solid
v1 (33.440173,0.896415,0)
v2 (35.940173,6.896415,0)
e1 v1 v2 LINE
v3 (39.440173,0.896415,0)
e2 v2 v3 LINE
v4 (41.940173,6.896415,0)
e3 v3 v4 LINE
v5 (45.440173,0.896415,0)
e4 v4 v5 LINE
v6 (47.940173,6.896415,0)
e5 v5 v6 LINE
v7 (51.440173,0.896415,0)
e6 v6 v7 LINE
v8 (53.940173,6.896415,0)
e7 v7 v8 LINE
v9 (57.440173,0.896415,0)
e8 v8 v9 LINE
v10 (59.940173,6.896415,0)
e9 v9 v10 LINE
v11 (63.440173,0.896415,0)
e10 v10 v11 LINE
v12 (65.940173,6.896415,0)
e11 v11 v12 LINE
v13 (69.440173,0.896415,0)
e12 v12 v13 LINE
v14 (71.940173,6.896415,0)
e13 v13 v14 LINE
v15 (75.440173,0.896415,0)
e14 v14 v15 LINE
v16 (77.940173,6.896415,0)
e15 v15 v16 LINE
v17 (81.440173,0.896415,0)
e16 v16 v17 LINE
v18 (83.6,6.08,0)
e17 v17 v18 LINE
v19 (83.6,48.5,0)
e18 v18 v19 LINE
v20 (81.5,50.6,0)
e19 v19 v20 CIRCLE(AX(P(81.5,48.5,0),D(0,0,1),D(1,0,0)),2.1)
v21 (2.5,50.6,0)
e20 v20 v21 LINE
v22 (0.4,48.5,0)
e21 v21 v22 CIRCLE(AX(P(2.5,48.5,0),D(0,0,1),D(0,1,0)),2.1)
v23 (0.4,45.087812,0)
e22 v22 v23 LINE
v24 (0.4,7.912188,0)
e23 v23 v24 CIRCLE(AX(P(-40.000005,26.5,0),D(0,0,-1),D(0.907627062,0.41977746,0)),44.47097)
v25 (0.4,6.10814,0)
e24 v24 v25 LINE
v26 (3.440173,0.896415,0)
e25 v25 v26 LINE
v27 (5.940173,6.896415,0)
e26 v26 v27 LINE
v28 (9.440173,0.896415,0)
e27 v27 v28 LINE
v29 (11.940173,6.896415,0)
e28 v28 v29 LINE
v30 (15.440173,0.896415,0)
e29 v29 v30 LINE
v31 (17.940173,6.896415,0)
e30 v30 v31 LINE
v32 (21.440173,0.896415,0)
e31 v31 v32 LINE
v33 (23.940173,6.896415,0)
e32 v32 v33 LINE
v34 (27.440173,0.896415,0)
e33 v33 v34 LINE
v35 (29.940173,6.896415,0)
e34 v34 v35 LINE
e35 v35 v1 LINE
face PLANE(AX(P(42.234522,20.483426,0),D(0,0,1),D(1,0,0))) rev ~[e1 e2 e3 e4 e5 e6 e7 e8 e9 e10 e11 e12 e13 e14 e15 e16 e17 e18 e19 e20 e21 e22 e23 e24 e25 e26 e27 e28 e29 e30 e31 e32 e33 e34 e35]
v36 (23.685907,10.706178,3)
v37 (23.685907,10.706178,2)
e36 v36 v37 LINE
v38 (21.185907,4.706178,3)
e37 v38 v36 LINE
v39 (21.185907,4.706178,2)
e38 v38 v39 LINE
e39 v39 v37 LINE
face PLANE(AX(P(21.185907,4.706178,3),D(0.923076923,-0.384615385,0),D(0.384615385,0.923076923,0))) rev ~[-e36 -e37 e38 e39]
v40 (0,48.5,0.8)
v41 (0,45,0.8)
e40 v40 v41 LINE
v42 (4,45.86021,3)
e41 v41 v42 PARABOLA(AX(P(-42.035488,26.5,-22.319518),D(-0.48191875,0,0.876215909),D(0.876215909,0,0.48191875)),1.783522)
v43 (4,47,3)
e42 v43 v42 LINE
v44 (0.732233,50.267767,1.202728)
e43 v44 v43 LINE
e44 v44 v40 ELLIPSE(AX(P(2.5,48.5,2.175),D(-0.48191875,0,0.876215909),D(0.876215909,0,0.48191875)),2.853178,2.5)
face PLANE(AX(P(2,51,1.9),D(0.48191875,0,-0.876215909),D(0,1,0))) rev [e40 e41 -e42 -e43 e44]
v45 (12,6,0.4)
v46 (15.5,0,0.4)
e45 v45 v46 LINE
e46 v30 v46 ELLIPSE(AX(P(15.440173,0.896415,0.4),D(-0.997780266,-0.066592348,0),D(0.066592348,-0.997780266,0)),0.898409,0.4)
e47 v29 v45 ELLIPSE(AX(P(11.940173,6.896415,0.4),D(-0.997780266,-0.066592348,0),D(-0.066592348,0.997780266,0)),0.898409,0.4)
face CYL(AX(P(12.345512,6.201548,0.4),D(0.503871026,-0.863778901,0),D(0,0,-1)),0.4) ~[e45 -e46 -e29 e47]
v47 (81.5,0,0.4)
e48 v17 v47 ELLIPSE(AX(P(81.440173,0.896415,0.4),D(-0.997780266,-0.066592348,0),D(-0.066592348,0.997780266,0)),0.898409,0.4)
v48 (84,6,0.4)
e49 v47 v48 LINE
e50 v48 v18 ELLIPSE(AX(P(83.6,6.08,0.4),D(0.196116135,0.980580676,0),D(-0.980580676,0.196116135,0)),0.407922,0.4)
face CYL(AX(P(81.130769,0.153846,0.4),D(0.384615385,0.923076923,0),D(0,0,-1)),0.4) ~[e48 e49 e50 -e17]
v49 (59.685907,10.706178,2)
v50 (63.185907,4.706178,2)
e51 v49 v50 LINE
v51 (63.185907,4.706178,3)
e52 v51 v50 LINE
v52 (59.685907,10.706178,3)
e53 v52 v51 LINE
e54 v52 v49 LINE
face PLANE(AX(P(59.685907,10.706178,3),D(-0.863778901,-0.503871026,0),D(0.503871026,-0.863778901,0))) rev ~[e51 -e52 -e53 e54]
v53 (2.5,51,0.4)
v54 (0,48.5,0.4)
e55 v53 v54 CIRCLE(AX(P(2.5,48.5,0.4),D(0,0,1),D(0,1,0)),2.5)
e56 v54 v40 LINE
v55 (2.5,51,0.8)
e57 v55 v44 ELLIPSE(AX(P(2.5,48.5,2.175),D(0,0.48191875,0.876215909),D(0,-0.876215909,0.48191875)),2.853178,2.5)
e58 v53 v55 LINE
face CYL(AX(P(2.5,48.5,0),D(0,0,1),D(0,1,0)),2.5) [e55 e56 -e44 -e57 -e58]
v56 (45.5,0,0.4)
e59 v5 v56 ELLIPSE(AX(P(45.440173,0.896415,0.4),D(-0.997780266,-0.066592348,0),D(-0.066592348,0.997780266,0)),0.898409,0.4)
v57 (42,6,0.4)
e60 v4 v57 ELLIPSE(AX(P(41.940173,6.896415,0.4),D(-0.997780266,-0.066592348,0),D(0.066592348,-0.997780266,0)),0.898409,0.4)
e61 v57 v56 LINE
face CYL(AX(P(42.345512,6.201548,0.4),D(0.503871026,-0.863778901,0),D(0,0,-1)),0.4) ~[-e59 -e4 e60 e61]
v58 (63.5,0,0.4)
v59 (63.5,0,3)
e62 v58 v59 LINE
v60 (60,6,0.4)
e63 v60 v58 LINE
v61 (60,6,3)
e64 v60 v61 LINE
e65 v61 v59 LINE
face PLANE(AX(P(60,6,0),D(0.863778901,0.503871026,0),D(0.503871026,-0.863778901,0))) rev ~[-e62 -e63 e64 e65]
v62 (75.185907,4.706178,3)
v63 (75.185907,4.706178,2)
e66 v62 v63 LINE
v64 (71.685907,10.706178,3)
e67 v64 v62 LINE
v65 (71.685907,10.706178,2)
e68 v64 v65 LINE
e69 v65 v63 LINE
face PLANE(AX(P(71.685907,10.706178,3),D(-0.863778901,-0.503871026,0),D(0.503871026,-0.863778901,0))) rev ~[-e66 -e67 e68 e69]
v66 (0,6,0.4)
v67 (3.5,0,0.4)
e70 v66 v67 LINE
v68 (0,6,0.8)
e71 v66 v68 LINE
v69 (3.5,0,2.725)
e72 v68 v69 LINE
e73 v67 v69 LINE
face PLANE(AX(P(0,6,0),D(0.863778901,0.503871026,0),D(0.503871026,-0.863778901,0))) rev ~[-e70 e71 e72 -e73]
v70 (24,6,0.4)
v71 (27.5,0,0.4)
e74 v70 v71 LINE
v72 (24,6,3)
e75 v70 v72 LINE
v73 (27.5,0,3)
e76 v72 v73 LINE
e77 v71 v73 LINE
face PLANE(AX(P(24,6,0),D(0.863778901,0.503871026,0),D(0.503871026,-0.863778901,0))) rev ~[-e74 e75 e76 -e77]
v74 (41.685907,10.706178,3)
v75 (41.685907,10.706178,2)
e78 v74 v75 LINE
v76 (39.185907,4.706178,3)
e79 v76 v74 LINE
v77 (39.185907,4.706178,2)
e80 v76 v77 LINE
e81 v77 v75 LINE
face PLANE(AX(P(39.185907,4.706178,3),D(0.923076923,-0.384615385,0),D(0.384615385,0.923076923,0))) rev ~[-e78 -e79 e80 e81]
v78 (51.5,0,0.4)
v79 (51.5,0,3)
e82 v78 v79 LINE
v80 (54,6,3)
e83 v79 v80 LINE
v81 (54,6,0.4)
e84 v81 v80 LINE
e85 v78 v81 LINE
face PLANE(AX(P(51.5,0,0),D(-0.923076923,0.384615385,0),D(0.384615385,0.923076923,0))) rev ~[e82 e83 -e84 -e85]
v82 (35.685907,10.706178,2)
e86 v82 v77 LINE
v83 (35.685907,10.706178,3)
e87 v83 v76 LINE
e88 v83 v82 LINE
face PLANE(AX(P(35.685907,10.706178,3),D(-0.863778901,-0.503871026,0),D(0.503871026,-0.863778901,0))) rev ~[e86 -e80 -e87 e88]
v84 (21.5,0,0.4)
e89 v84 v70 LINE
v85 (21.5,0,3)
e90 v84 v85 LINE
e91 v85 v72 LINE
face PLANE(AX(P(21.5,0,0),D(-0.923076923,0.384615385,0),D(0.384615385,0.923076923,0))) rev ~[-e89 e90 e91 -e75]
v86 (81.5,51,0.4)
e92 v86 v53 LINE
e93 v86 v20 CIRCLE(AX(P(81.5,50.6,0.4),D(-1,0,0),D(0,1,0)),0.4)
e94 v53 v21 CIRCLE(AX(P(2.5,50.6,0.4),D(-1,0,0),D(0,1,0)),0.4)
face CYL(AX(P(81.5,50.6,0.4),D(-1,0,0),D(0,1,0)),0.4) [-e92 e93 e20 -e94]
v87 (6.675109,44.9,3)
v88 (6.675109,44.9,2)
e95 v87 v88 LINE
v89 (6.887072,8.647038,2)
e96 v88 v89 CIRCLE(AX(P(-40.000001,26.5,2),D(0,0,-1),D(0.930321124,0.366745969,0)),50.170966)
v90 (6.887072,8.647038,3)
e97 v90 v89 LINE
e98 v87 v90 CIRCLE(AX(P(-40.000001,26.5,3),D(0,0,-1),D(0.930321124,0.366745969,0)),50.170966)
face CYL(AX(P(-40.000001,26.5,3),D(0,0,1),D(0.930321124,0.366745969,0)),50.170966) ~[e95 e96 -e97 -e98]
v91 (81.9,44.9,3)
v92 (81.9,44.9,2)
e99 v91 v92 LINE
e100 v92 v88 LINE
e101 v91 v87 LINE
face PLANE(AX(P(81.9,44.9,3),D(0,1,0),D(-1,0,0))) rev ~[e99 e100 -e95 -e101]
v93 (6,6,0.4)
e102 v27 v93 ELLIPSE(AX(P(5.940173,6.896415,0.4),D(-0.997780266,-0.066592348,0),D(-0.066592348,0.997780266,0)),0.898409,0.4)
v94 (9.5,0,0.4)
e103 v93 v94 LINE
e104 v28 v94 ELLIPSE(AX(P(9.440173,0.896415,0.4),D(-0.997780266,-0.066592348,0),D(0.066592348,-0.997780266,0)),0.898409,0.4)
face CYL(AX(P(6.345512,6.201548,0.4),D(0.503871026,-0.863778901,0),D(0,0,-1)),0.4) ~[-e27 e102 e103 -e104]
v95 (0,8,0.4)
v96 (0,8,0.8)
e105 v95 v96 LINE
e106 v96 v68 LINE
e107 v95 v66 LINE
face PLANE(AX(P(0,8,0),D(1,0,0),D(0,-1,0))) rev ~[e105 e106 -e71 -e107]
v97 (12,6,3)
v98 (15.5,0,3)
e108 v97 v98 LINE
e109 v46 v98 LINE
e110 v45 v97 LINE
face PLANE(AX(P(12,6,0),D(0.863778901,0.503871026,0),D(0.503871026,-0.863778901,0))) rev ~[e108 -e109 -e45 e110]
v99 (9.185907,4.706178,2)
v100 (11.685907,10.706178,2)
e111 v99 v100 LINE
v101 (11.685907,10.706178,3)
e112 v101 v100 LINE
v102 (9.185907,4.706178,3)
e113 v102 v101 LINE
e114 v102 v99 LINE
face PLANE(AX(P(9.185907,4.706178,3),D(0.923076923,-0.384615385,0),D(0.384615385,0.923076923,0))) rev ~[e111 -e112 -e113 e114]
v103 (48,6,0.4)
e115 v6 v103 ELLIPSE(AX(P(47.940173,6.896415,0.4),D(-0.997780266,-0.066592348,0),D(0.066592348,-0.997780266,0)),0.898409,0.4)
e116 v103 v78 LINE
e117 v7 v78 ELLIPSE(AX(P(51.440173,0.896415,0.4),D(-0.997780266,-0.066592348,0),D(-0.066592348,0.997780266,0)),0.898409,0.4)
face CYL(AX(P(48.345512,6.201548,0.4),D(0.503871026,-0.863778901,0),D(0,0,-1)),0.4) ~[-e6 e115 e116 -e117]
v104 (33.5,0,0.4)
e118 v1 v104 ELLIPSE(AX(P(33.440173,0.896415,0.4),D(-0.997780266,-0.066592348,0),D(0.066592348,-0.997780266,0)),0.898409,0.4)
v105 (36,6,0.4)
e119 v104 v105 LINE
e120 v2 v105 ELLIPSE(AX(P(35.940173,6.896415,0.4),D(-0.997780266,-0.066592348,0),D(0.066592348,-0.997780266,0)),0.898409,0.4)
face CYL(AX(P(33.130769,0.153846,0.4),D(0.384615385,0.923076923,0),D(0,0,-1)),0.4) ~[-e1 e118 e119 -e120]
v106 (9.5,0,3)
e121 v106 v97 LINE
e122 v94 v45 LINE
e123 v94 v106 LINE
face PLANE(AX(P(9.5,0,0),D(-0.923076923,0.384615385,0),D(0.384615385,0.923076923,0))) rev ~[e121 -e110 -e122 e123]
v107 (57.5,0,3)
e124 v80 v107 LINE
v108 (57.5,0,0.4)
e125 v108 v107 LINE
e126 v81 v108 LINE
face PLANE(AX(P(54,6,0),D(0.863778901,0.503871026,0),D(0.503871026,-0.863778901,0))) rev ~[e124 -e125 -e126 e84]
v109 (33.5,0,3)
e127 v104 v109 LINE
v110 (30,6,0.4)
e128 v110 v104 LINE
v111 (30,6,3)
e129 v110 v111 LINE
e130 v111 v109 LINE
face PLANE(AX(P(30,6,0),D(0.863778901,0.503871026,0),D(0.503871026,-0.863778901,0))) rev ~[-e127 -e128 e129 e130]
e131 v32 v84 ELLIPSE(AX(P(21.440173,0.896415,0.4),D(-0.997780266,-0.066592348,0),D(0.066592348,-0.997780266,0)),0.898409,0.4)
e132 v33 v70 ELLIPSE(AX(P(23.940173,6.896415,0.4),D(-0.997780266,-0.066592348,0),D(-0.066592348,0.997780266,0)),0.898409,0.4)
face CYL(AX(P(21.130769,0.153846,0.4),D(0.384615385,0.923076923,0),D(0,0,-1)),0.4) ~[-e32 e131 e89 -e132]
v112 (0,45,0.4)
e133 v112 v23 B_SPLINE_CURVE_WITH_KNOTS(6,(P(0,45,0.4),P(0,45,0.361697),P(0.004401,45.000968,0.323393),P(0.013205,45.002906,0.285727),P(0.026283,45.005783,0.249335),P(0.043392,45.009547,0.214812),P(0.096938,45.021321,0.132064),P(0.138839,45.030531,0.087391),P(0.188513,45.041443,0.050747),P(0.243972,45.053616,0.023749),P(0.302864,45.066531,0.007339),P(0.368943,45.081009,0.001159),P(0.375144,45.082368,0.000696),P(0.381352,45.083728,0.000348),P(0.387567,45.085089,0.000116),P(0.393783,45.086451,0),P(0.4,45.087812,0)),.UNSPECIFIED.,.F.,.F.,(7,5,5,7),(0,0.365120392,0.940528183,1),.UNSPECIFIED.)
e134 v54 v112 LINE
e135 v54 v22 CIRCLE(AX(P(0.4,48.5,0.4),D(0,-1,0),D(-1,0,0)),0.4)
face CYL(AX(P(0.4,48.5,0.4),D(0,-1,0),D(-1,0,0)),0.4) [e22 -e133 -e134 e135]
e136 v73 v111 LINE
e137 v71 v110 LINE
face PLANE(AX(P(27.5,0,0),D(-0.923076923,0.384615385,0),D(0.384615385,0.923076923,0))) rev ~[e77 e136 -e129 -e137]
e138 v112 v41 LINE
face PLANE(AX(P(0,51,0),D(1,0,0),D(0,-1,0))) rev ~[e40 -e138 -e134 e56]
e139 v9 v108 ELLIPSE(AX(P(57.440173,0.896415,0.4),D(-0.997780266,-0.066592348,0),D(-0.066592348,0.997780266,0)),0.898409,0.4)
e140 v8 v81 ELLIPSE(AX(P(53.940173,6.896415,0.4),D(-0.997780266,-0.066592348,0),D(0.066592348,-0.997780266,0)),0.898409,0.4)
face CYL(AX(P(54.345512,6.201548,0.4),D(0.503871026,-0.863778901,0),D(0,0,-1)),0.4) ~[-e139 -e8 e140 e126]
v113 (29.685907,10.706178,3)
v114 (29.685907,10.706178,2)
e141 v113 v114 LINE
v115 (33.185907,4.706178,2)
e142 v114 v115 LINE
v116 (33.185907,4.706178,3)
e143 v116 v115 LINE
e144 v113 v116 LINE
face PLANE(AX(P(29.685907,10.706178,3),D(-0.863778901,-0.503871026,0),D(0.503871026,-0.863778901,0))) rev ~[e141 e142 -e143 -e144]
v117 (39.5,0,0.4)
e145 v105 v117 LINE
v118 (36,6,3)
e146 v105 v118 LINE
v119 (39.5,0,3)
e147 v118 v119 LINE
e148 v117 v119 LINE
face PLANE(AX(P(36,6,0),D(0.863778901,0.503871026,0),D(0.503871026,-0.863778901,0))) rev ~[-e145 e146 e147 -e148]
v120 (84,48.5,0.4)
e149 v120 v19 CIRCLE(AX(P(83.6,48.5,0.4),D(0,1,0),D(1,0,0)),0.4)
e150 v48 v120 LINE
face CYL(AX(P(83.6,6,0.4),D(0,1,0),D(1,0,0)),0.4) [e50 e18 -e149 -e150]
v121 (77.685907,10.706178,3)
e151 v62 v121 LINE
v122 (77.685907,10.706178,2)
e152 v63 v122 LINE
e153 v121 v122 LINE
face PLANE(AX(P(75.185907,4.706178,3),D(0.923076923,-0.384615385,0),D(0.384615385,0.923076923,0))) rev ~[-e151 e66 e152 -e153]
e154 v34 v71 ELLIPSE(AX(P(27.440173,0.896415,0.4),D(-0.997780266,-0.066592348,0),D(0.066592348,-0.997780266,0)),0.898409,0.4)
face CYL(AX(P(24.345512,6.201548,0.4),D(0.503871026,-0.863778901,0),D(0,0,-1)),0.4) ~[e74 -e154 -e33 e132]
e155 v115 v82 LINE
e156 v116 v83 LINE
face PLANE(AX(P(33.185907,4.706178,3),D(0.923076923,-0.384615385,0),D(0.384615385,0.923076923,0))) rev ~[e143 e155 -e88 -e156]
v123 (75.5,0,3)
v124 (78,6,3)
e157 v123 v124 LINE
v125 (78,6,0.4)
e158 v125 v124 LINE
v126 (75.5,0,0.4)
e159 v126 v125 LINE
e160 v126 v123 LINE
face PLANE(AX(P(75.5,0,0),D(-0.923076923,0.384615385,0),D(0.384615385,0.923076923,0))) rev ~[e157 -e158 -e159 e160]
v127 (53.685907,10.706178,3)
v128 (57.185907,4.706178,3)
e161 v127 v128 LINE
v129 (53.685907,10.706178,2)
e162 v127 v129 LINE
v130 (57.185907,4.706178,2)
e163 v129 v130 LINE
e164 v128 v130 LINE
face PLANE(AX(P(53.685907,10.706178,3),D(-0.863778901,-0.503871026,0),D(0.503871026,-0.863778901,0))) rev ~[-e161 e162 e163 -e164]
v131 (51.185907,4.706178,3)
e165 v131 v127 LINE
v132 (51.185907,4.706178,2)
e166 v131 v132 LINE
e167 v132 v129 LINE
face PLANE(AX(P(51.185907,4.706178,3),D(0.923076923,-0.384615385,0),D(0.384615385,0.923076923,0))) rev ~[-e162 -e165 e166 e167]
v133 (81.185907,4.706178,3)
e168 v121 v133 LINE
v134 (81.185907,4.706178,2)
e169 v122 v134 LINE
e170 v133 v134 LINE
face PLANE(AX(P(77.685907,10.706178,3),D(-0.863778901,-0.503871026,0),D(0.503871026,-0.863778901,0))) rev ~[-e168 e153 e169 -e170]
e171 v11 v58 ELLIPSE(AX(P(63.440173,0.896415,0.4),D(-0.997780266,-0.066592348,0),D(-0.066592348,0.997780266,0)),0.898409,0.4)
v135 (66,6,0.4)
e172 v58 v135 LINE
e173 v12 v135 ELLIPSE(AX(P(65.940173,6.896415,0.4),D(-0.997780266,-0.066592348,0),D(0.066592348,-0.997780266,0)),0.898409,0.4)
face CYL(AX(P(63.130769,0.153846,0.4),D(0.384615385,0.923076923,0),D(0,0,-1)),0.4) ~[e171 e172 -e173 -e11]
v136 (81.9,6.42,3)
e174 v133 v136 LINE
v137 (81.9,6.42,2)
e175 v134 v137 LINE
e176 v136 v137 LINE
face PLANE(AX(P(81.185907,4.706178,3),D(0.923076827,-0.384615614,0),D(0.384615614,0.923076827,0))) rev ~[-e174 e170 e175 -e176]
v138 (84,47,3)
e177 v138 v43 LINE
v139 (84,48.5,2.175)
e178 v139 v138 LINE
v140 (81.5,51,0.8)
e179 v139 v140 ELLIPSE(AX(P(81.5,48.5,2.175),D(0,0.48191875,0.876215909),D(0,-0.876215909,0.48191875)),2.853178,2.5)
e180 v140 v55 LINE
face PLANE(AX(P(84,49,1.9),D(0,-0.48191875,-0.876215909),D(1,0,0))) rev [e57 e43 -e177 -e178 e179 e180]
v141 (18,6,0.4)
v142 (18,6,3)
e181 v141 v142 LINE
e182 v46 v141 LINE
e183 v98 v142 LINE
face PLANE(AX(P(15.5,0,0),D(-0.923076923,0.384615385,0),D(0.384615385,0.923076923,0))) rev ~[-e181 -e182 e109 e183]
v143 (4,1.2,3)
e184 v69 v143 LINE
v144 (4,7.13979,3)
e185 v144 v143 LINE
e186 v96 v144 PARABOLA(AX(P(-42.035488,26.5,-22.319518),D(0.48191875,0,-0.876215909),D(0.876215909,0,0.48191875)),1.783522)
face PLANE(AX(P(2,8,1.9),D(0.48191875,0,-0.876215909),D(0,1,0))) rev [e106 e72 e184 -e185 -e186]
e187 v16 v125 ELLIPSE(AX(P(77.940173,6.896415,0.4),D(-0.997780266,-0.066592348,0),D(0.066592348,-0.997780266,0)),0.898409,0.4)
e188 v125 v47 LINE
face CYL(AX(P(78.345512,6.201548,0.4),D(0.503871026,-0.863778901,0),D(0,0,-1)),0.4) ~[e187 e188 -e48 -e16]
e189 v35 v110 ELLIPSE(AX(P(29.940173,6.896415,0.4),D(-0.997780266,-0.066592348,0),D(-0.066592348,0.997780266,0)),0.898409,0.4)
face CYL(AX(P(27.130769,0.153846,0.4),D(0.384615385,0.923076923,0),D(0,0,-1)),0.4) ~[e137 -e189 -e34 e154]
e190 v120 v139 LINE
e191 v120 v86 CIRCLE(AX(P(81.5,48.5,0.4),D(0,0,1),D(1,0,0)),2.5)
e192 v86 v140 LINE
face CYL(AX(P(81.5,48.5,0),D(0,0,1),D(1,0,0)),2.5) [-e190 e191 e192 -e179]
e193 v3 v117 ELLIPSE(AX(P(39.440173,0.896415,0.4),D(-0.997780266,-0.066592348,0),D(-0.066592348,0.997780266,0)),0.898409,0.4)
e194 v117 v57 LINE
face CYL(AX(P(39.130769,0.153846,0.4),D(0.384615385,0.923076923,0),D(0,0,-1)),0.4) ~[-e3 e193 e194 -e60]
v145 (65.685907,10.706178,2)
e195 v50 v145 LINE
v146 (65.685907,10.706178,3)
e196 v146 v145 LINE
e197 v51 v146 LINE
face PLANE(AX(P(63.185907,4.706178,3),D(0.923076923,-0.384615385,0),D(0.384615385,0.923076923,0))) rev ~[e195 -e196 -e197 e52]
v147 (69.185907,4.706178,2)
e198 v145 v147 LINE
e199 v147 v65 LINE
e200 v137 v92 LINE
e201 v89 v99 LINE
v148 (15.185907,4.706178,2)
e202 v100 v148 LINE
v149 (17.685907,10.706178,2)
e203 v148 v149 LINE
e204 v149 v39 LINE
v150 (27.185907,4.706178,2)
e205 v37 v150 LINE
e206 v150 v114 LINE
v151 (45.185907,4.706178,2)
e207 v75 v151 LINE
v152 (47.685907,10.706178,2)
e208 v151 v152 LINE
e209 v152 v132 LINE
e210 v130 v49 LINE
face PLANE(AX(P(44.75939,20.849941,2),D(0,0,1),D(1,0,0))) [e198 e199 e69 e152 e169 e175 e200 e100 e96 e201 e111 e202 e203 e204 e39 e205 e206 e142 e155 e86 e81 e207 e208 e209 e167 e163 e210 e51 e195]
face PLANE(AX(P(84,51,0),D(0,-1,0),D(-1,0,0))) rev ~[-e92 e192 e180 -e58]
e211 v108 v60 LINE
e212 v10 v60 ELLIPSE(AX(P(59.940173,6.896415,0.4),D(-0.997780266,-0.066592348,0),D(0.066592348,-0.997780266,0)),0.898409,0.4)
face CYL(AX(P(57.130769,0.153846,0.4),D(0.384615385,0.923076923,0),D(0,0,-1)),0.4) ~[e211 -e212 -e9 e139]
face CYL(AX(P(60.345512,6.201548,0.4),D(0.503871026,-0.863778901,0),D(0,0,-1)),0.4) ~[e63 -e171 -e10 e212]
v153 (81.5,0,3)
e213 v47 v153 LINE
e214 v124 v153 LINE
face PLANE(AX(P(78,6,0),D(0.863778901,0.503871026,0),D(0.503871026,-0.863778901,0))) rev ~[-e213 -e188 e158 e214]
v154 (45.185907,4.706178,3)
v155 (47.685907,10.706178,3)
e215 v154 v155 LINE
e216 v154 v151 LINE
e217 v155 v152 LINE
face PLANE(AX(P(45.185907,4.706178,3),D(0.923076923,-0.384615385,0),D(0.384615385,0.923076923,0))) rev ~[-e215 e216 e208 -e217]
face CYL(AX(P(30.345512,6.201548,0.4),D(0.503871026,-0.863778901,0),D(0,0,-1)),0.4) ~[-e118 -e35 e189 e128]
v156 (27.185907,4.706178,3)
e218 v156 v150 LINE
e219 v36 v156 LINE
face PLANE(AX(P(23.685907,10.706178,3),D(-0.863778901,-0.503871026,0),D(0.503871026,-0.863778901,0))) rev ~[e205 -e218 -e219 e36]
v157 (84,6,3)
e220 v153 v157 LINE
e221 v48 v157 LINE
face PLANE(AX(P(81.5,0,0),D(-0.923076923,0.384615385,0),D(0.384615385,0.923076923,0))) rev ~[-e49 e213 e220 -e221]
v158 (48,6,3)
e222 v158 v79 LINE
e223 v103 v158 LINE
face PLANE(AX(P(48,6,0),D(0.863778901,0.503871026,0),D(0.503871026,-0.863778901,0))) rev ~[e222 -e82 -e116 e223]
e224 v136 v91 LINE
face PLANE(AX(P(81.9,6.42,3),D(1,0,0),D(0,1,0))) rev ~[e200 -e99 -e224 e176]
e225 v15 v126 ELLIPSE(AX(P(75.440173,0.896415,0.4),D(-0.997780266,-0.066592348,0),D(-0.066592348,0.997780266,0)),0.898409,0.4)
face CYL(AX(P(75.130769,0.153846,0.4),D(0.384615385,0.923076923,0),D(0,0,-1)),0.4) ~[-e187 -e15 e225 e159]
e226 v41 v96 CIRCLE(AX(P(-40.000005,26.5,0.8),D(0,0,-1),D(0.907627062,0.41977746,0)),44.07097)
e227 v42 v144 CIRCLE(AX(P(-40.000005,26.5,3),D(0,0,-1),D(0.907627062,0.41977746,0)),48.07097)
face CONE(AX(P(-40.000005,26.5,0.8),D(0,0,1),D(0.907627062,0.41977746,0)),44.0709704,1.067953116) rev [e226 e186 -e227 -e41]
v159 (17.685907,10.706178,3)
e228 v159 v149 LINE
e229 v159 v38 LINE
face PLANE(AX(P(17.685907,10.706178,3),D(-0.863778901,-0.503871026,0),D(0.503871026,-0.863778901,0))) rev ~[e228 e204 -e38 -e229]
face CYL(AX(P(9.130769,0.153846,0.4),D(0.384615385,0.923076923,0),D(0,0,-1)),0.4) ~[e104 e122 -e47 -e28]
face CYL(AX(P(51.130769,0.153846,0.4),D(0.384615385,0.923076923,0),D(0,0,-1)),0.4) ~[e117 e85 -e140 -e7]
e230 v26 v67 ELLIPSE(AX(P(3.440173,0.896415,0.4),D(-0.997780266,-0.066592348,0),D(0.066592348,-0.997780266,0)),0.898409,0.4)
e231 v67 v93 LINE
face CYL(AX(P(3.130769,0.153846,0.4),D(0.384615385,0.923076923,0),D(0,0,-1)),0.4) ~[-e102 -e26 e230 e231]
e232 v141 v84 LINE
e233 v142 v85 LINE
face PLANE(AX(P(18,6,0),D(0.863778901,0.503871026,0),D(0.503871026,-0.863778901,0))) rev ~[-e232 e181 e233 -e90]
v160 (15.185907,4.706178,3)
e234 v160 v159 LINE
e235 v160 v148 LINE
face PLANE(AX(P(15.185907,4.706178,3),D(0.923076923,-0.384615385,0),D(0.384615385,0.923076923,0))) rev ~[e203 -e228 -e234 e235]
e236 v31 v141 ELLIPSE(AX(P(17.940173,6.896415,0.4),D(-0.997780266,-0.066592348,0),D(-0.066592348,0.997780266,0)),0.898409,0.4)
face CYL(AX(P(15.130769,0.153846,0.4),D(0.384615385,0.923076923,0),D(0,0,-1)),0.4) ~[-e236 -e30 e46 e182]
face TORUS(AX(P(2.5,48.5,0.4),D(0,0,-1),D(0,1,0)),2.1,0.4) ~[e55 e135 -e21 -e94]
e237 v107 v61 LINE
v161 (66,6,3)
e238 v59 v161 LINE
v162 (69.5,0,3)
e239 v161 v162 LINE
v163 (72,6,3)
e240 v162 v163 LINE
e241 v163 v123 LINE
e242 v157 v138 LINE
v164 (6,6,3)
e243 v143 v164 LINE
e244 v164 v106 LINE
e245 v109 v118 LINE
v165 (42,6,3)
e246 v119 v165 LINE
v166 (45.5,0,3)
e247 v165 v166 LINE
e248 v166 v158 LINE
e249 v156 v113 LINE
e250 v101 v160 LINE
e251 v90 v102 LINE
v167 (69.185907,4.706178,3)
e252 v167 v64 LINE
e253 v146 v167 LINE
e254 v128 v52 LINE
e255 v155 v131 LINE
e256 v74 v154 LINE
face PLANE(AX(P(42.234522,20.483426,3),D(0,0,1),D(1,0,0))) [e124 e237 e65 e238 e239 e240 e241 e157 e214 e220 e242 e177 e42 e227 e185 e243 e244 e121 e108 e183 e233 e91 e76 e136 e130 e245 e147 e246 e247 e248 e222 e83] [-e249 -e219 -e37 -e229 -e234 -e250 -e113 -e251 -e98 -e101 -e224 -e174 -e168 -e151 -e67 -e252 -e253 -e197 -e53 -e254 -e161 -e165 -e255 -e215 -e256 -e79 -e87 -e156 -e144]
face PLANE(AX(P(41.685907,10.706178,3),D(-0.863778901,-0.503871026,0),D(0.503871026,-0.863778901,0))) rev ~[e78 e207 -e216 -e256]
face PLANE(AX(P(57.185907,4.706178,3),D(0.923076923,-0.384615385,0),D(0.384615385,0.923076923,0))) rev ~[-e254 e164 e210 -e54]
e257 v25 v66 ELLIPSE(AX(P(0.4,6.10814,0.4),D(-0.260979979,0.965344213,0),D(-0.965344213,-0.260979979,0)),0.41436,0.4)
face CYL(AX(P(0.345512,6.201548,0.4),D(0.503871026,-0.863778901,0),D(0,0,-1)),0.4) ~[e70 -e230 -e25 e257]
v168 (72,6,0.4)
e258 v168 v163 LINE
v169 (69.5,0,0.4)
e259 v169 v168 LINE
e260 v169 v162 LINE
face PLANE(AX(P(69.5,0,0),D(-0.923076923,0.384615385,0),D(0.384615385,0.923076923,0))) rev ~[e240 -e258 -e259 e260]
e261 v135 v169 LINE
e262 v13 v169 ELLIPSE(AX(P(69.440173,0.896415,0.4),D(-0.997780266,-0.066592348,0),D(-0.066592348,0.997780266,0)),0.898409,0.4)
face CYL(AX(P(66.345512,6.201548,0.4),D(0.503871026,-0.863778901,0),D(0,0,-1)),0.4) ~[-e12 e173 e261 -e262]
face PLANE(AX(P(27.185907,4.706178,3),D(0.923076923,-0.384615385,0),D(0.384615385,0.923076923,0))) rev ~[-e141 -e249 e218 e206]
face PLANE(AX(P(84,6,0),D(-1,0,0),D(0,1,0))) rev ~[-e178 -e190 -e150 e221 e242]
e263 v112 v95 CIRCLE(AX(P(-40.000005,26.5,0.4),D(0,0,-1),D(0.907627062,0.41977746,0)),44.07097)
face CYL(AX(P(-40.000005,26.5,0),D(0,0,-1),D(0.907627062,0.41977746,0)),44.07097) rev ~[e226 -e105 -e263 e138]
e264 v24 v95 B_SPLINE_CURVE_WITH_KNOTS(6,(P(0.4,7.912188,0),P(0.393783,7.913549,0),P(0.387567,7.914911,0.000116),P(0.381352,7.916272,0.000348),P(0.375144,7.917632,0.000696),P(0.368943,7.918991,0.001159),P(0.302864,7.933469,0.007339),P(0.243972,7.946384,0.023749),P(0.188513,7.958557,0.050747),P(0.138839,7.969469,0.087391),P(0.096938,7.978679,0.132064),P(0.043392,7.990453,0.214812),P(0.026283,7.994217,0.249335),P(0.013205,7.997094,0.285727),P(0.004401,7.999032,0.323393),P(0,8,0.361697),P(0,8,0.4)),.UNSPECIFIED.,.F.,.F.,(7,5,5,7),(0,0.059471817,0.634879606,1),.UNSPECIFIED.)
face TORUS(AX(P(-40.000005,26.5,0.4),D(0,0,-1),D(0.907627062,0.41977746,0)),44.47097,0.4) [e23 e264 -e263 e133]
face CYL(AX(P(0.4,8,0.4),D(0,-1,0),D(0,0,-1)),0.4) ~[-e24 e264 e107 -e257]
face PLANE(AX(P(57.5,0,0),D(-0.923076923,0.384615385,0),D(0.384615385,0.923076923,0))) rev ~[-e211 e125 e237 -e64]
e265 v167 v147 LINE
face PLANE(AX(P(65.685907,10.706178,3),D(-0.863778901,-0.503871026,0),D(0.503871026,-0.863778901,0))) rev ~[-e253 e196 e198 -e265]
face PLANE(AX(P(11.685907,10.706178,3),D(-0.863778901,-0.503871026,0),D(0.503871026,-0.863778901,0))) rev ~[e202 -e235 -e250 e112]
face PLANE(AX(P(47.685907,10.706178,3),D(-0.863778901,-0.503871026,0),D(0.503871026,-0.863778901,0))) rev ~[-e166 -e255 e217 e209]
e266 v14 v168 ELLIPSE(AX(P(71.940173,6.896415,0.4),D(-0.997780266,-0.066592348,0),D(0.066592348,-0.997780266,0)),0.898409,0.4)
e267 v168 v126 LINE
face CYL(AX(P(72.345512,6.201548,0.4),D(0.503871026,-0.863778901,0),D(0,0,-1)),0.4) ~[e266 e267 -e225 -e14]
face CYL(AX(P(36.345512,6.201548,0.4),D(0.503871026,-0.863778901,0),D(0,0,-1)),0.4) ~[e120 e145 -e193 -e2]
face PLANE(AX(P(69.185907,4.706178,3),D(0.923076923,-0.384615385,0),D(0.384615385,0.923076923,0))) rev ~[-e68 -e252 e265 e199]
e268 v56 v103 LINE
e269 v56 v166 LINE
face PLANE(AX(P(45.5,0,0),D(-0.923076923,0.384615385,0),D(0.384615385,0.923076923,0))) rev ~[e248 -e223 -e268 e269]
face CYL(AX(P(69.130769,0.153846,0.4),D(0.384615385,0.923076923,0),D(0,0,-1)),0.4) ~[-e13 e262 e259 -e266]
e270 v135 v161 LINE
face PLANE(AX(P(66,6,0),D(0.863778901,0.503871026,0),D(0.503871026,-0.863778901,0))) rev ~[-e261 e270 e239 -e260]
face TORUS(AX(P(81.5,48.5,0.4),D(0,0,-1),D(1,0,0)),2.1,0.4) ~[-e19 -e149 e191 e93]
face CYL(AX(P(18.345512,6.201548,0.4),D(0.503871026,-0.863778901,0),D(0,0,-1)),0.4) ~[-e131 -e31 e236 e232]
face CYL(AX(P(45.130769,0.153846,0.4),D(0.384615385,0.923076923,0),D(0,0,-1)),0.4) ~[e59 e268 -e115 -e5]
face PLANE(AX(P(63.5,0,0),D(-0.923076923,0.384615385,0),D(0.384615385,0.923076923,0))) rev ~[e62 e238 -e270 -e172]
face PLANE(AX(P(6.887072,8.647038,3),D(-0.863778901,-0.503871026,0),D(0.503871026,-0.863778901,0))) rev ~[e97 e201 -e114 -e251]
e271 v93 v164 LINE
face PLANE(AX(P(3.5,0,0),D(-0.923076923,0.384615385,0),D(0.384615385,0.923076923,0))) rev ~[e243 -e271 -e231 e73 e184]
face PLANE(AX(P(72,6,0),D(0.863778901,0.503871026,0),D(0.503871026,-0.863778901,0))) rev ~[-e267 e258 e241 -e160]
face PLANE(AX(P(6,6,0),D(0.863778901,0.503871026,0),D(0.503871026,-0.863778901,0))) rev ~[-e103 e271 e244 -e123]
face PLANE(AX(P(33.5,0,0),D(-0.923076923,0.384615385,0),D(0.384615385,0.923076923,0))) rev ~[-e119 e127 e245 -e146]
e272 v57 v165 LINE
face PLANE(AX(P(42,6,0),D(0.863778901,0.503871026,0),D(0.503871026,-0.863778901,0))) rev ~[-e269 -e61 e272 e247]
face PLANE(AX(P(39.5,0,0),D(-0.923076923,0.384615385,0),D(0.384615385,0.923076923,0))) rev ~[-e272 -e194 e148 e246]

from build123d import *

# Parameters (mm, degrees)
F1_DEPTH = 3
F2_SIZE2 = 4
F2_SIZE  = 2.2
F3_R     = 2.5
F5_DEPTH = 1
F6_R     = 0.4


with BuildPart() as f1:
    # F0 (on Top) → F1 (new body)
    with BuildSketch(Plane.XY):
        with BuildLine():
            Line((84, 6), (84, 51))
            Line((84, 51), (0, 51))
            Line((0, 51), (0, 45))
            ThreePointArc((0, 45), (4.070965, 26.5), (0, 8))
            Line((0, 8), (0, 6))
            Line((0, 6), (3.5, 0))
            Line((3.5, 0), (6, 6))
            Line((6, 6), (9.5, 0))
            Line((9.5, 0), (12, 6))
            Line((12, 6), (15.5, 0))
            Line((15.5, 0), (18, 6))
            Line((18, 6), (21.5, 0))
            Line((21.5, 0), (24, 6))
            Line((24, 6), (27.5, 0))
            Line((27.5, 0), (30, 6))
            Line((30, 6), (33.5, 0))
            Line((33.5, 0), (36, 6))
            Line((36, 6), (39.5, 0))
            Line((39.5, 0), (42, 6))
            Line((42, 6), (45.5, 0))
            Line((45.5, 0), (48, 6))
            Line((48, 6), (51.5, 0))
            Line((51.5, 0), (54, 6))
            Line((54, 6), (57.5, 0))
            Line((57.5, 0), (60, 6))
            Line((60, 6), (63.5, 0))
            Line((63.5, 0), (66, 6))
            Line((66, 6), (69.5, 0))
            Line((69.5, 0), (72, 6))
            Line((72, 6), (75.5, 0))
            Line((75.5, 0), (78, 6))
            Line((78, 6), (81.5, 0))
            Line((81.5, 0), (84, 6))
        make_face()
    extrude(amount=F1_DEPTH)

    # F2
    f2_edges = [f1.edges().sort_by_distance(p)[0] for p in [
        (0, 7, 3),
        (4.070965, 26.5, 3),
        (42, 51, 3),
        (0, 48, 3),
    ]]
    chamfer(f2_edges, length=F2_SIZE, length2=F2_SIZE2)

    # F3
    f3_edges = [f1.edges().sort_by_distance(p)[0] for p in [
        (0, 51, 0.4),
        (84, 51, 0.4),
    ]]
    fillet(f3_edges, radius=F3_R)

    # F4 (on face) → F5 (cut)
    with BuildSketch(Plane.XY.offset(3)):
        with BuildLine():
            Line((81.185907, 4.706178), (81.9, 6.42))
            Line((81.9, 6.42), (81.9, 44.9))
            Line((81.9, 44.9), (6.675109, 44.9))
            ThreePointArc((6.675109, 44.9), (10.170108, 26.793334), (6.887072, 8.647038))
            Line((6.887072, 8.647038), (9.185907, 4.706178))
            Line((9.185907, 4.706178), (11.685907, 10.706178))
            Line((11.685907, 10.706178), (15.185907, 4.706178))
            Line((15.185907, 4.706178), (17.685907, 10.706178))
            Line((17.685907, 10.706178), (21.185907, 4.706178))
            Line((21.185907, 4.706178), (23.685907, 10.706178))
            Line((23.685907, 10.706178), (27.185907, 4.706178))
            Line((27.185907, 4.706178), (29.685907, 10.706178))
            Line((29.685907, 10.706178), (33.185907, 4.706178))
            Line((33.185907, 4.706178), (35.685907, 10.706178))
            Line((35.685907, 10.706178), (39.185907, 4.706178))
            Line((39.185907, 4.706178), (41.685907, 10.706178))
            Line((41.685907, 10.706178), (45.185907, 4.706178))
            Line((45.185907, 4.706178), (47.685907, 10.706178))
            Line((47.685907, 10.706178), (51.185907, 4.706178))
            Line((51.185907, 4.706178), (53.685907, 10.706178))
            Line((53.685907, 10.706178), (57.185907, 4.706178))
            Line((57.185907, 4.706178), (59.685907, 10.706178))
            Line((59.685907, 10.706178), (63.185907, 4.706178))
            Line((63.185907, 4.706178), (65.685907, 10.706178))
            Line((65.685907, 10.706178), (69.185907, 4.706178))
            Line((69.185907, 4.706178), (71.685907, 10.706178))
            Line((71.685907, 10.706178), (75.185907, 4.706178))
            Line((75.185907, 4.706178), (77.685907, 10.706178))
            Line((77.685907, 10.706178), (81.185907, 4.706178))
        make_face()
    extrude(amount=-F5_DEPTH, mode=Mode.SUBTRACT)

    # F6
    f6_edges = [f1.edges().sort_by_distance(p)[0] for p in [
        (84, 27.25, 0),
        (83.267767, 50.267767, 0),
        (82.75, 3, 0),
        (42, 51, 0),
        (79.75, 3, 0),
        (0.732233, 50.267767, 0),
        (76.75, 3, 0),
        (0, 46.75, 0),
        (73.75, 3, 0),
        (4.070965, 26.5, 0),
        (70.75, 3, 0),
        (0, 7, 0),
        (67.75, 3, 0),
        (1.75, 3, 0),
        (64.75, 3, 0),
        (4.75, 3, 0),
        (61.75, 3, 0),
        (7.75, 3, 0),
        (58.75, 3, 0),
        (10.75, 3, 0),
        (55.75, 3, 0),
        (13.75, 3, 0),
        (52.75, 3, 0),
        (16.75, 3, 0),
        (49.75, 3, 0),
        (19.75, 3, 0),
        (46.75, 3, 0),
        (22.75, 3, 0),
        (43.75, 3, 0),
        (25.75, 3, 0),
        (40.75, 3, 0),
        (28.75, 3, 0),
        (37.75, 3, 0),
        (31.75, 3, 0),
        (34.75, 3, 0),
    ]]
    fillet(f6_edges, radius=F6_R)


solid = f1.part
